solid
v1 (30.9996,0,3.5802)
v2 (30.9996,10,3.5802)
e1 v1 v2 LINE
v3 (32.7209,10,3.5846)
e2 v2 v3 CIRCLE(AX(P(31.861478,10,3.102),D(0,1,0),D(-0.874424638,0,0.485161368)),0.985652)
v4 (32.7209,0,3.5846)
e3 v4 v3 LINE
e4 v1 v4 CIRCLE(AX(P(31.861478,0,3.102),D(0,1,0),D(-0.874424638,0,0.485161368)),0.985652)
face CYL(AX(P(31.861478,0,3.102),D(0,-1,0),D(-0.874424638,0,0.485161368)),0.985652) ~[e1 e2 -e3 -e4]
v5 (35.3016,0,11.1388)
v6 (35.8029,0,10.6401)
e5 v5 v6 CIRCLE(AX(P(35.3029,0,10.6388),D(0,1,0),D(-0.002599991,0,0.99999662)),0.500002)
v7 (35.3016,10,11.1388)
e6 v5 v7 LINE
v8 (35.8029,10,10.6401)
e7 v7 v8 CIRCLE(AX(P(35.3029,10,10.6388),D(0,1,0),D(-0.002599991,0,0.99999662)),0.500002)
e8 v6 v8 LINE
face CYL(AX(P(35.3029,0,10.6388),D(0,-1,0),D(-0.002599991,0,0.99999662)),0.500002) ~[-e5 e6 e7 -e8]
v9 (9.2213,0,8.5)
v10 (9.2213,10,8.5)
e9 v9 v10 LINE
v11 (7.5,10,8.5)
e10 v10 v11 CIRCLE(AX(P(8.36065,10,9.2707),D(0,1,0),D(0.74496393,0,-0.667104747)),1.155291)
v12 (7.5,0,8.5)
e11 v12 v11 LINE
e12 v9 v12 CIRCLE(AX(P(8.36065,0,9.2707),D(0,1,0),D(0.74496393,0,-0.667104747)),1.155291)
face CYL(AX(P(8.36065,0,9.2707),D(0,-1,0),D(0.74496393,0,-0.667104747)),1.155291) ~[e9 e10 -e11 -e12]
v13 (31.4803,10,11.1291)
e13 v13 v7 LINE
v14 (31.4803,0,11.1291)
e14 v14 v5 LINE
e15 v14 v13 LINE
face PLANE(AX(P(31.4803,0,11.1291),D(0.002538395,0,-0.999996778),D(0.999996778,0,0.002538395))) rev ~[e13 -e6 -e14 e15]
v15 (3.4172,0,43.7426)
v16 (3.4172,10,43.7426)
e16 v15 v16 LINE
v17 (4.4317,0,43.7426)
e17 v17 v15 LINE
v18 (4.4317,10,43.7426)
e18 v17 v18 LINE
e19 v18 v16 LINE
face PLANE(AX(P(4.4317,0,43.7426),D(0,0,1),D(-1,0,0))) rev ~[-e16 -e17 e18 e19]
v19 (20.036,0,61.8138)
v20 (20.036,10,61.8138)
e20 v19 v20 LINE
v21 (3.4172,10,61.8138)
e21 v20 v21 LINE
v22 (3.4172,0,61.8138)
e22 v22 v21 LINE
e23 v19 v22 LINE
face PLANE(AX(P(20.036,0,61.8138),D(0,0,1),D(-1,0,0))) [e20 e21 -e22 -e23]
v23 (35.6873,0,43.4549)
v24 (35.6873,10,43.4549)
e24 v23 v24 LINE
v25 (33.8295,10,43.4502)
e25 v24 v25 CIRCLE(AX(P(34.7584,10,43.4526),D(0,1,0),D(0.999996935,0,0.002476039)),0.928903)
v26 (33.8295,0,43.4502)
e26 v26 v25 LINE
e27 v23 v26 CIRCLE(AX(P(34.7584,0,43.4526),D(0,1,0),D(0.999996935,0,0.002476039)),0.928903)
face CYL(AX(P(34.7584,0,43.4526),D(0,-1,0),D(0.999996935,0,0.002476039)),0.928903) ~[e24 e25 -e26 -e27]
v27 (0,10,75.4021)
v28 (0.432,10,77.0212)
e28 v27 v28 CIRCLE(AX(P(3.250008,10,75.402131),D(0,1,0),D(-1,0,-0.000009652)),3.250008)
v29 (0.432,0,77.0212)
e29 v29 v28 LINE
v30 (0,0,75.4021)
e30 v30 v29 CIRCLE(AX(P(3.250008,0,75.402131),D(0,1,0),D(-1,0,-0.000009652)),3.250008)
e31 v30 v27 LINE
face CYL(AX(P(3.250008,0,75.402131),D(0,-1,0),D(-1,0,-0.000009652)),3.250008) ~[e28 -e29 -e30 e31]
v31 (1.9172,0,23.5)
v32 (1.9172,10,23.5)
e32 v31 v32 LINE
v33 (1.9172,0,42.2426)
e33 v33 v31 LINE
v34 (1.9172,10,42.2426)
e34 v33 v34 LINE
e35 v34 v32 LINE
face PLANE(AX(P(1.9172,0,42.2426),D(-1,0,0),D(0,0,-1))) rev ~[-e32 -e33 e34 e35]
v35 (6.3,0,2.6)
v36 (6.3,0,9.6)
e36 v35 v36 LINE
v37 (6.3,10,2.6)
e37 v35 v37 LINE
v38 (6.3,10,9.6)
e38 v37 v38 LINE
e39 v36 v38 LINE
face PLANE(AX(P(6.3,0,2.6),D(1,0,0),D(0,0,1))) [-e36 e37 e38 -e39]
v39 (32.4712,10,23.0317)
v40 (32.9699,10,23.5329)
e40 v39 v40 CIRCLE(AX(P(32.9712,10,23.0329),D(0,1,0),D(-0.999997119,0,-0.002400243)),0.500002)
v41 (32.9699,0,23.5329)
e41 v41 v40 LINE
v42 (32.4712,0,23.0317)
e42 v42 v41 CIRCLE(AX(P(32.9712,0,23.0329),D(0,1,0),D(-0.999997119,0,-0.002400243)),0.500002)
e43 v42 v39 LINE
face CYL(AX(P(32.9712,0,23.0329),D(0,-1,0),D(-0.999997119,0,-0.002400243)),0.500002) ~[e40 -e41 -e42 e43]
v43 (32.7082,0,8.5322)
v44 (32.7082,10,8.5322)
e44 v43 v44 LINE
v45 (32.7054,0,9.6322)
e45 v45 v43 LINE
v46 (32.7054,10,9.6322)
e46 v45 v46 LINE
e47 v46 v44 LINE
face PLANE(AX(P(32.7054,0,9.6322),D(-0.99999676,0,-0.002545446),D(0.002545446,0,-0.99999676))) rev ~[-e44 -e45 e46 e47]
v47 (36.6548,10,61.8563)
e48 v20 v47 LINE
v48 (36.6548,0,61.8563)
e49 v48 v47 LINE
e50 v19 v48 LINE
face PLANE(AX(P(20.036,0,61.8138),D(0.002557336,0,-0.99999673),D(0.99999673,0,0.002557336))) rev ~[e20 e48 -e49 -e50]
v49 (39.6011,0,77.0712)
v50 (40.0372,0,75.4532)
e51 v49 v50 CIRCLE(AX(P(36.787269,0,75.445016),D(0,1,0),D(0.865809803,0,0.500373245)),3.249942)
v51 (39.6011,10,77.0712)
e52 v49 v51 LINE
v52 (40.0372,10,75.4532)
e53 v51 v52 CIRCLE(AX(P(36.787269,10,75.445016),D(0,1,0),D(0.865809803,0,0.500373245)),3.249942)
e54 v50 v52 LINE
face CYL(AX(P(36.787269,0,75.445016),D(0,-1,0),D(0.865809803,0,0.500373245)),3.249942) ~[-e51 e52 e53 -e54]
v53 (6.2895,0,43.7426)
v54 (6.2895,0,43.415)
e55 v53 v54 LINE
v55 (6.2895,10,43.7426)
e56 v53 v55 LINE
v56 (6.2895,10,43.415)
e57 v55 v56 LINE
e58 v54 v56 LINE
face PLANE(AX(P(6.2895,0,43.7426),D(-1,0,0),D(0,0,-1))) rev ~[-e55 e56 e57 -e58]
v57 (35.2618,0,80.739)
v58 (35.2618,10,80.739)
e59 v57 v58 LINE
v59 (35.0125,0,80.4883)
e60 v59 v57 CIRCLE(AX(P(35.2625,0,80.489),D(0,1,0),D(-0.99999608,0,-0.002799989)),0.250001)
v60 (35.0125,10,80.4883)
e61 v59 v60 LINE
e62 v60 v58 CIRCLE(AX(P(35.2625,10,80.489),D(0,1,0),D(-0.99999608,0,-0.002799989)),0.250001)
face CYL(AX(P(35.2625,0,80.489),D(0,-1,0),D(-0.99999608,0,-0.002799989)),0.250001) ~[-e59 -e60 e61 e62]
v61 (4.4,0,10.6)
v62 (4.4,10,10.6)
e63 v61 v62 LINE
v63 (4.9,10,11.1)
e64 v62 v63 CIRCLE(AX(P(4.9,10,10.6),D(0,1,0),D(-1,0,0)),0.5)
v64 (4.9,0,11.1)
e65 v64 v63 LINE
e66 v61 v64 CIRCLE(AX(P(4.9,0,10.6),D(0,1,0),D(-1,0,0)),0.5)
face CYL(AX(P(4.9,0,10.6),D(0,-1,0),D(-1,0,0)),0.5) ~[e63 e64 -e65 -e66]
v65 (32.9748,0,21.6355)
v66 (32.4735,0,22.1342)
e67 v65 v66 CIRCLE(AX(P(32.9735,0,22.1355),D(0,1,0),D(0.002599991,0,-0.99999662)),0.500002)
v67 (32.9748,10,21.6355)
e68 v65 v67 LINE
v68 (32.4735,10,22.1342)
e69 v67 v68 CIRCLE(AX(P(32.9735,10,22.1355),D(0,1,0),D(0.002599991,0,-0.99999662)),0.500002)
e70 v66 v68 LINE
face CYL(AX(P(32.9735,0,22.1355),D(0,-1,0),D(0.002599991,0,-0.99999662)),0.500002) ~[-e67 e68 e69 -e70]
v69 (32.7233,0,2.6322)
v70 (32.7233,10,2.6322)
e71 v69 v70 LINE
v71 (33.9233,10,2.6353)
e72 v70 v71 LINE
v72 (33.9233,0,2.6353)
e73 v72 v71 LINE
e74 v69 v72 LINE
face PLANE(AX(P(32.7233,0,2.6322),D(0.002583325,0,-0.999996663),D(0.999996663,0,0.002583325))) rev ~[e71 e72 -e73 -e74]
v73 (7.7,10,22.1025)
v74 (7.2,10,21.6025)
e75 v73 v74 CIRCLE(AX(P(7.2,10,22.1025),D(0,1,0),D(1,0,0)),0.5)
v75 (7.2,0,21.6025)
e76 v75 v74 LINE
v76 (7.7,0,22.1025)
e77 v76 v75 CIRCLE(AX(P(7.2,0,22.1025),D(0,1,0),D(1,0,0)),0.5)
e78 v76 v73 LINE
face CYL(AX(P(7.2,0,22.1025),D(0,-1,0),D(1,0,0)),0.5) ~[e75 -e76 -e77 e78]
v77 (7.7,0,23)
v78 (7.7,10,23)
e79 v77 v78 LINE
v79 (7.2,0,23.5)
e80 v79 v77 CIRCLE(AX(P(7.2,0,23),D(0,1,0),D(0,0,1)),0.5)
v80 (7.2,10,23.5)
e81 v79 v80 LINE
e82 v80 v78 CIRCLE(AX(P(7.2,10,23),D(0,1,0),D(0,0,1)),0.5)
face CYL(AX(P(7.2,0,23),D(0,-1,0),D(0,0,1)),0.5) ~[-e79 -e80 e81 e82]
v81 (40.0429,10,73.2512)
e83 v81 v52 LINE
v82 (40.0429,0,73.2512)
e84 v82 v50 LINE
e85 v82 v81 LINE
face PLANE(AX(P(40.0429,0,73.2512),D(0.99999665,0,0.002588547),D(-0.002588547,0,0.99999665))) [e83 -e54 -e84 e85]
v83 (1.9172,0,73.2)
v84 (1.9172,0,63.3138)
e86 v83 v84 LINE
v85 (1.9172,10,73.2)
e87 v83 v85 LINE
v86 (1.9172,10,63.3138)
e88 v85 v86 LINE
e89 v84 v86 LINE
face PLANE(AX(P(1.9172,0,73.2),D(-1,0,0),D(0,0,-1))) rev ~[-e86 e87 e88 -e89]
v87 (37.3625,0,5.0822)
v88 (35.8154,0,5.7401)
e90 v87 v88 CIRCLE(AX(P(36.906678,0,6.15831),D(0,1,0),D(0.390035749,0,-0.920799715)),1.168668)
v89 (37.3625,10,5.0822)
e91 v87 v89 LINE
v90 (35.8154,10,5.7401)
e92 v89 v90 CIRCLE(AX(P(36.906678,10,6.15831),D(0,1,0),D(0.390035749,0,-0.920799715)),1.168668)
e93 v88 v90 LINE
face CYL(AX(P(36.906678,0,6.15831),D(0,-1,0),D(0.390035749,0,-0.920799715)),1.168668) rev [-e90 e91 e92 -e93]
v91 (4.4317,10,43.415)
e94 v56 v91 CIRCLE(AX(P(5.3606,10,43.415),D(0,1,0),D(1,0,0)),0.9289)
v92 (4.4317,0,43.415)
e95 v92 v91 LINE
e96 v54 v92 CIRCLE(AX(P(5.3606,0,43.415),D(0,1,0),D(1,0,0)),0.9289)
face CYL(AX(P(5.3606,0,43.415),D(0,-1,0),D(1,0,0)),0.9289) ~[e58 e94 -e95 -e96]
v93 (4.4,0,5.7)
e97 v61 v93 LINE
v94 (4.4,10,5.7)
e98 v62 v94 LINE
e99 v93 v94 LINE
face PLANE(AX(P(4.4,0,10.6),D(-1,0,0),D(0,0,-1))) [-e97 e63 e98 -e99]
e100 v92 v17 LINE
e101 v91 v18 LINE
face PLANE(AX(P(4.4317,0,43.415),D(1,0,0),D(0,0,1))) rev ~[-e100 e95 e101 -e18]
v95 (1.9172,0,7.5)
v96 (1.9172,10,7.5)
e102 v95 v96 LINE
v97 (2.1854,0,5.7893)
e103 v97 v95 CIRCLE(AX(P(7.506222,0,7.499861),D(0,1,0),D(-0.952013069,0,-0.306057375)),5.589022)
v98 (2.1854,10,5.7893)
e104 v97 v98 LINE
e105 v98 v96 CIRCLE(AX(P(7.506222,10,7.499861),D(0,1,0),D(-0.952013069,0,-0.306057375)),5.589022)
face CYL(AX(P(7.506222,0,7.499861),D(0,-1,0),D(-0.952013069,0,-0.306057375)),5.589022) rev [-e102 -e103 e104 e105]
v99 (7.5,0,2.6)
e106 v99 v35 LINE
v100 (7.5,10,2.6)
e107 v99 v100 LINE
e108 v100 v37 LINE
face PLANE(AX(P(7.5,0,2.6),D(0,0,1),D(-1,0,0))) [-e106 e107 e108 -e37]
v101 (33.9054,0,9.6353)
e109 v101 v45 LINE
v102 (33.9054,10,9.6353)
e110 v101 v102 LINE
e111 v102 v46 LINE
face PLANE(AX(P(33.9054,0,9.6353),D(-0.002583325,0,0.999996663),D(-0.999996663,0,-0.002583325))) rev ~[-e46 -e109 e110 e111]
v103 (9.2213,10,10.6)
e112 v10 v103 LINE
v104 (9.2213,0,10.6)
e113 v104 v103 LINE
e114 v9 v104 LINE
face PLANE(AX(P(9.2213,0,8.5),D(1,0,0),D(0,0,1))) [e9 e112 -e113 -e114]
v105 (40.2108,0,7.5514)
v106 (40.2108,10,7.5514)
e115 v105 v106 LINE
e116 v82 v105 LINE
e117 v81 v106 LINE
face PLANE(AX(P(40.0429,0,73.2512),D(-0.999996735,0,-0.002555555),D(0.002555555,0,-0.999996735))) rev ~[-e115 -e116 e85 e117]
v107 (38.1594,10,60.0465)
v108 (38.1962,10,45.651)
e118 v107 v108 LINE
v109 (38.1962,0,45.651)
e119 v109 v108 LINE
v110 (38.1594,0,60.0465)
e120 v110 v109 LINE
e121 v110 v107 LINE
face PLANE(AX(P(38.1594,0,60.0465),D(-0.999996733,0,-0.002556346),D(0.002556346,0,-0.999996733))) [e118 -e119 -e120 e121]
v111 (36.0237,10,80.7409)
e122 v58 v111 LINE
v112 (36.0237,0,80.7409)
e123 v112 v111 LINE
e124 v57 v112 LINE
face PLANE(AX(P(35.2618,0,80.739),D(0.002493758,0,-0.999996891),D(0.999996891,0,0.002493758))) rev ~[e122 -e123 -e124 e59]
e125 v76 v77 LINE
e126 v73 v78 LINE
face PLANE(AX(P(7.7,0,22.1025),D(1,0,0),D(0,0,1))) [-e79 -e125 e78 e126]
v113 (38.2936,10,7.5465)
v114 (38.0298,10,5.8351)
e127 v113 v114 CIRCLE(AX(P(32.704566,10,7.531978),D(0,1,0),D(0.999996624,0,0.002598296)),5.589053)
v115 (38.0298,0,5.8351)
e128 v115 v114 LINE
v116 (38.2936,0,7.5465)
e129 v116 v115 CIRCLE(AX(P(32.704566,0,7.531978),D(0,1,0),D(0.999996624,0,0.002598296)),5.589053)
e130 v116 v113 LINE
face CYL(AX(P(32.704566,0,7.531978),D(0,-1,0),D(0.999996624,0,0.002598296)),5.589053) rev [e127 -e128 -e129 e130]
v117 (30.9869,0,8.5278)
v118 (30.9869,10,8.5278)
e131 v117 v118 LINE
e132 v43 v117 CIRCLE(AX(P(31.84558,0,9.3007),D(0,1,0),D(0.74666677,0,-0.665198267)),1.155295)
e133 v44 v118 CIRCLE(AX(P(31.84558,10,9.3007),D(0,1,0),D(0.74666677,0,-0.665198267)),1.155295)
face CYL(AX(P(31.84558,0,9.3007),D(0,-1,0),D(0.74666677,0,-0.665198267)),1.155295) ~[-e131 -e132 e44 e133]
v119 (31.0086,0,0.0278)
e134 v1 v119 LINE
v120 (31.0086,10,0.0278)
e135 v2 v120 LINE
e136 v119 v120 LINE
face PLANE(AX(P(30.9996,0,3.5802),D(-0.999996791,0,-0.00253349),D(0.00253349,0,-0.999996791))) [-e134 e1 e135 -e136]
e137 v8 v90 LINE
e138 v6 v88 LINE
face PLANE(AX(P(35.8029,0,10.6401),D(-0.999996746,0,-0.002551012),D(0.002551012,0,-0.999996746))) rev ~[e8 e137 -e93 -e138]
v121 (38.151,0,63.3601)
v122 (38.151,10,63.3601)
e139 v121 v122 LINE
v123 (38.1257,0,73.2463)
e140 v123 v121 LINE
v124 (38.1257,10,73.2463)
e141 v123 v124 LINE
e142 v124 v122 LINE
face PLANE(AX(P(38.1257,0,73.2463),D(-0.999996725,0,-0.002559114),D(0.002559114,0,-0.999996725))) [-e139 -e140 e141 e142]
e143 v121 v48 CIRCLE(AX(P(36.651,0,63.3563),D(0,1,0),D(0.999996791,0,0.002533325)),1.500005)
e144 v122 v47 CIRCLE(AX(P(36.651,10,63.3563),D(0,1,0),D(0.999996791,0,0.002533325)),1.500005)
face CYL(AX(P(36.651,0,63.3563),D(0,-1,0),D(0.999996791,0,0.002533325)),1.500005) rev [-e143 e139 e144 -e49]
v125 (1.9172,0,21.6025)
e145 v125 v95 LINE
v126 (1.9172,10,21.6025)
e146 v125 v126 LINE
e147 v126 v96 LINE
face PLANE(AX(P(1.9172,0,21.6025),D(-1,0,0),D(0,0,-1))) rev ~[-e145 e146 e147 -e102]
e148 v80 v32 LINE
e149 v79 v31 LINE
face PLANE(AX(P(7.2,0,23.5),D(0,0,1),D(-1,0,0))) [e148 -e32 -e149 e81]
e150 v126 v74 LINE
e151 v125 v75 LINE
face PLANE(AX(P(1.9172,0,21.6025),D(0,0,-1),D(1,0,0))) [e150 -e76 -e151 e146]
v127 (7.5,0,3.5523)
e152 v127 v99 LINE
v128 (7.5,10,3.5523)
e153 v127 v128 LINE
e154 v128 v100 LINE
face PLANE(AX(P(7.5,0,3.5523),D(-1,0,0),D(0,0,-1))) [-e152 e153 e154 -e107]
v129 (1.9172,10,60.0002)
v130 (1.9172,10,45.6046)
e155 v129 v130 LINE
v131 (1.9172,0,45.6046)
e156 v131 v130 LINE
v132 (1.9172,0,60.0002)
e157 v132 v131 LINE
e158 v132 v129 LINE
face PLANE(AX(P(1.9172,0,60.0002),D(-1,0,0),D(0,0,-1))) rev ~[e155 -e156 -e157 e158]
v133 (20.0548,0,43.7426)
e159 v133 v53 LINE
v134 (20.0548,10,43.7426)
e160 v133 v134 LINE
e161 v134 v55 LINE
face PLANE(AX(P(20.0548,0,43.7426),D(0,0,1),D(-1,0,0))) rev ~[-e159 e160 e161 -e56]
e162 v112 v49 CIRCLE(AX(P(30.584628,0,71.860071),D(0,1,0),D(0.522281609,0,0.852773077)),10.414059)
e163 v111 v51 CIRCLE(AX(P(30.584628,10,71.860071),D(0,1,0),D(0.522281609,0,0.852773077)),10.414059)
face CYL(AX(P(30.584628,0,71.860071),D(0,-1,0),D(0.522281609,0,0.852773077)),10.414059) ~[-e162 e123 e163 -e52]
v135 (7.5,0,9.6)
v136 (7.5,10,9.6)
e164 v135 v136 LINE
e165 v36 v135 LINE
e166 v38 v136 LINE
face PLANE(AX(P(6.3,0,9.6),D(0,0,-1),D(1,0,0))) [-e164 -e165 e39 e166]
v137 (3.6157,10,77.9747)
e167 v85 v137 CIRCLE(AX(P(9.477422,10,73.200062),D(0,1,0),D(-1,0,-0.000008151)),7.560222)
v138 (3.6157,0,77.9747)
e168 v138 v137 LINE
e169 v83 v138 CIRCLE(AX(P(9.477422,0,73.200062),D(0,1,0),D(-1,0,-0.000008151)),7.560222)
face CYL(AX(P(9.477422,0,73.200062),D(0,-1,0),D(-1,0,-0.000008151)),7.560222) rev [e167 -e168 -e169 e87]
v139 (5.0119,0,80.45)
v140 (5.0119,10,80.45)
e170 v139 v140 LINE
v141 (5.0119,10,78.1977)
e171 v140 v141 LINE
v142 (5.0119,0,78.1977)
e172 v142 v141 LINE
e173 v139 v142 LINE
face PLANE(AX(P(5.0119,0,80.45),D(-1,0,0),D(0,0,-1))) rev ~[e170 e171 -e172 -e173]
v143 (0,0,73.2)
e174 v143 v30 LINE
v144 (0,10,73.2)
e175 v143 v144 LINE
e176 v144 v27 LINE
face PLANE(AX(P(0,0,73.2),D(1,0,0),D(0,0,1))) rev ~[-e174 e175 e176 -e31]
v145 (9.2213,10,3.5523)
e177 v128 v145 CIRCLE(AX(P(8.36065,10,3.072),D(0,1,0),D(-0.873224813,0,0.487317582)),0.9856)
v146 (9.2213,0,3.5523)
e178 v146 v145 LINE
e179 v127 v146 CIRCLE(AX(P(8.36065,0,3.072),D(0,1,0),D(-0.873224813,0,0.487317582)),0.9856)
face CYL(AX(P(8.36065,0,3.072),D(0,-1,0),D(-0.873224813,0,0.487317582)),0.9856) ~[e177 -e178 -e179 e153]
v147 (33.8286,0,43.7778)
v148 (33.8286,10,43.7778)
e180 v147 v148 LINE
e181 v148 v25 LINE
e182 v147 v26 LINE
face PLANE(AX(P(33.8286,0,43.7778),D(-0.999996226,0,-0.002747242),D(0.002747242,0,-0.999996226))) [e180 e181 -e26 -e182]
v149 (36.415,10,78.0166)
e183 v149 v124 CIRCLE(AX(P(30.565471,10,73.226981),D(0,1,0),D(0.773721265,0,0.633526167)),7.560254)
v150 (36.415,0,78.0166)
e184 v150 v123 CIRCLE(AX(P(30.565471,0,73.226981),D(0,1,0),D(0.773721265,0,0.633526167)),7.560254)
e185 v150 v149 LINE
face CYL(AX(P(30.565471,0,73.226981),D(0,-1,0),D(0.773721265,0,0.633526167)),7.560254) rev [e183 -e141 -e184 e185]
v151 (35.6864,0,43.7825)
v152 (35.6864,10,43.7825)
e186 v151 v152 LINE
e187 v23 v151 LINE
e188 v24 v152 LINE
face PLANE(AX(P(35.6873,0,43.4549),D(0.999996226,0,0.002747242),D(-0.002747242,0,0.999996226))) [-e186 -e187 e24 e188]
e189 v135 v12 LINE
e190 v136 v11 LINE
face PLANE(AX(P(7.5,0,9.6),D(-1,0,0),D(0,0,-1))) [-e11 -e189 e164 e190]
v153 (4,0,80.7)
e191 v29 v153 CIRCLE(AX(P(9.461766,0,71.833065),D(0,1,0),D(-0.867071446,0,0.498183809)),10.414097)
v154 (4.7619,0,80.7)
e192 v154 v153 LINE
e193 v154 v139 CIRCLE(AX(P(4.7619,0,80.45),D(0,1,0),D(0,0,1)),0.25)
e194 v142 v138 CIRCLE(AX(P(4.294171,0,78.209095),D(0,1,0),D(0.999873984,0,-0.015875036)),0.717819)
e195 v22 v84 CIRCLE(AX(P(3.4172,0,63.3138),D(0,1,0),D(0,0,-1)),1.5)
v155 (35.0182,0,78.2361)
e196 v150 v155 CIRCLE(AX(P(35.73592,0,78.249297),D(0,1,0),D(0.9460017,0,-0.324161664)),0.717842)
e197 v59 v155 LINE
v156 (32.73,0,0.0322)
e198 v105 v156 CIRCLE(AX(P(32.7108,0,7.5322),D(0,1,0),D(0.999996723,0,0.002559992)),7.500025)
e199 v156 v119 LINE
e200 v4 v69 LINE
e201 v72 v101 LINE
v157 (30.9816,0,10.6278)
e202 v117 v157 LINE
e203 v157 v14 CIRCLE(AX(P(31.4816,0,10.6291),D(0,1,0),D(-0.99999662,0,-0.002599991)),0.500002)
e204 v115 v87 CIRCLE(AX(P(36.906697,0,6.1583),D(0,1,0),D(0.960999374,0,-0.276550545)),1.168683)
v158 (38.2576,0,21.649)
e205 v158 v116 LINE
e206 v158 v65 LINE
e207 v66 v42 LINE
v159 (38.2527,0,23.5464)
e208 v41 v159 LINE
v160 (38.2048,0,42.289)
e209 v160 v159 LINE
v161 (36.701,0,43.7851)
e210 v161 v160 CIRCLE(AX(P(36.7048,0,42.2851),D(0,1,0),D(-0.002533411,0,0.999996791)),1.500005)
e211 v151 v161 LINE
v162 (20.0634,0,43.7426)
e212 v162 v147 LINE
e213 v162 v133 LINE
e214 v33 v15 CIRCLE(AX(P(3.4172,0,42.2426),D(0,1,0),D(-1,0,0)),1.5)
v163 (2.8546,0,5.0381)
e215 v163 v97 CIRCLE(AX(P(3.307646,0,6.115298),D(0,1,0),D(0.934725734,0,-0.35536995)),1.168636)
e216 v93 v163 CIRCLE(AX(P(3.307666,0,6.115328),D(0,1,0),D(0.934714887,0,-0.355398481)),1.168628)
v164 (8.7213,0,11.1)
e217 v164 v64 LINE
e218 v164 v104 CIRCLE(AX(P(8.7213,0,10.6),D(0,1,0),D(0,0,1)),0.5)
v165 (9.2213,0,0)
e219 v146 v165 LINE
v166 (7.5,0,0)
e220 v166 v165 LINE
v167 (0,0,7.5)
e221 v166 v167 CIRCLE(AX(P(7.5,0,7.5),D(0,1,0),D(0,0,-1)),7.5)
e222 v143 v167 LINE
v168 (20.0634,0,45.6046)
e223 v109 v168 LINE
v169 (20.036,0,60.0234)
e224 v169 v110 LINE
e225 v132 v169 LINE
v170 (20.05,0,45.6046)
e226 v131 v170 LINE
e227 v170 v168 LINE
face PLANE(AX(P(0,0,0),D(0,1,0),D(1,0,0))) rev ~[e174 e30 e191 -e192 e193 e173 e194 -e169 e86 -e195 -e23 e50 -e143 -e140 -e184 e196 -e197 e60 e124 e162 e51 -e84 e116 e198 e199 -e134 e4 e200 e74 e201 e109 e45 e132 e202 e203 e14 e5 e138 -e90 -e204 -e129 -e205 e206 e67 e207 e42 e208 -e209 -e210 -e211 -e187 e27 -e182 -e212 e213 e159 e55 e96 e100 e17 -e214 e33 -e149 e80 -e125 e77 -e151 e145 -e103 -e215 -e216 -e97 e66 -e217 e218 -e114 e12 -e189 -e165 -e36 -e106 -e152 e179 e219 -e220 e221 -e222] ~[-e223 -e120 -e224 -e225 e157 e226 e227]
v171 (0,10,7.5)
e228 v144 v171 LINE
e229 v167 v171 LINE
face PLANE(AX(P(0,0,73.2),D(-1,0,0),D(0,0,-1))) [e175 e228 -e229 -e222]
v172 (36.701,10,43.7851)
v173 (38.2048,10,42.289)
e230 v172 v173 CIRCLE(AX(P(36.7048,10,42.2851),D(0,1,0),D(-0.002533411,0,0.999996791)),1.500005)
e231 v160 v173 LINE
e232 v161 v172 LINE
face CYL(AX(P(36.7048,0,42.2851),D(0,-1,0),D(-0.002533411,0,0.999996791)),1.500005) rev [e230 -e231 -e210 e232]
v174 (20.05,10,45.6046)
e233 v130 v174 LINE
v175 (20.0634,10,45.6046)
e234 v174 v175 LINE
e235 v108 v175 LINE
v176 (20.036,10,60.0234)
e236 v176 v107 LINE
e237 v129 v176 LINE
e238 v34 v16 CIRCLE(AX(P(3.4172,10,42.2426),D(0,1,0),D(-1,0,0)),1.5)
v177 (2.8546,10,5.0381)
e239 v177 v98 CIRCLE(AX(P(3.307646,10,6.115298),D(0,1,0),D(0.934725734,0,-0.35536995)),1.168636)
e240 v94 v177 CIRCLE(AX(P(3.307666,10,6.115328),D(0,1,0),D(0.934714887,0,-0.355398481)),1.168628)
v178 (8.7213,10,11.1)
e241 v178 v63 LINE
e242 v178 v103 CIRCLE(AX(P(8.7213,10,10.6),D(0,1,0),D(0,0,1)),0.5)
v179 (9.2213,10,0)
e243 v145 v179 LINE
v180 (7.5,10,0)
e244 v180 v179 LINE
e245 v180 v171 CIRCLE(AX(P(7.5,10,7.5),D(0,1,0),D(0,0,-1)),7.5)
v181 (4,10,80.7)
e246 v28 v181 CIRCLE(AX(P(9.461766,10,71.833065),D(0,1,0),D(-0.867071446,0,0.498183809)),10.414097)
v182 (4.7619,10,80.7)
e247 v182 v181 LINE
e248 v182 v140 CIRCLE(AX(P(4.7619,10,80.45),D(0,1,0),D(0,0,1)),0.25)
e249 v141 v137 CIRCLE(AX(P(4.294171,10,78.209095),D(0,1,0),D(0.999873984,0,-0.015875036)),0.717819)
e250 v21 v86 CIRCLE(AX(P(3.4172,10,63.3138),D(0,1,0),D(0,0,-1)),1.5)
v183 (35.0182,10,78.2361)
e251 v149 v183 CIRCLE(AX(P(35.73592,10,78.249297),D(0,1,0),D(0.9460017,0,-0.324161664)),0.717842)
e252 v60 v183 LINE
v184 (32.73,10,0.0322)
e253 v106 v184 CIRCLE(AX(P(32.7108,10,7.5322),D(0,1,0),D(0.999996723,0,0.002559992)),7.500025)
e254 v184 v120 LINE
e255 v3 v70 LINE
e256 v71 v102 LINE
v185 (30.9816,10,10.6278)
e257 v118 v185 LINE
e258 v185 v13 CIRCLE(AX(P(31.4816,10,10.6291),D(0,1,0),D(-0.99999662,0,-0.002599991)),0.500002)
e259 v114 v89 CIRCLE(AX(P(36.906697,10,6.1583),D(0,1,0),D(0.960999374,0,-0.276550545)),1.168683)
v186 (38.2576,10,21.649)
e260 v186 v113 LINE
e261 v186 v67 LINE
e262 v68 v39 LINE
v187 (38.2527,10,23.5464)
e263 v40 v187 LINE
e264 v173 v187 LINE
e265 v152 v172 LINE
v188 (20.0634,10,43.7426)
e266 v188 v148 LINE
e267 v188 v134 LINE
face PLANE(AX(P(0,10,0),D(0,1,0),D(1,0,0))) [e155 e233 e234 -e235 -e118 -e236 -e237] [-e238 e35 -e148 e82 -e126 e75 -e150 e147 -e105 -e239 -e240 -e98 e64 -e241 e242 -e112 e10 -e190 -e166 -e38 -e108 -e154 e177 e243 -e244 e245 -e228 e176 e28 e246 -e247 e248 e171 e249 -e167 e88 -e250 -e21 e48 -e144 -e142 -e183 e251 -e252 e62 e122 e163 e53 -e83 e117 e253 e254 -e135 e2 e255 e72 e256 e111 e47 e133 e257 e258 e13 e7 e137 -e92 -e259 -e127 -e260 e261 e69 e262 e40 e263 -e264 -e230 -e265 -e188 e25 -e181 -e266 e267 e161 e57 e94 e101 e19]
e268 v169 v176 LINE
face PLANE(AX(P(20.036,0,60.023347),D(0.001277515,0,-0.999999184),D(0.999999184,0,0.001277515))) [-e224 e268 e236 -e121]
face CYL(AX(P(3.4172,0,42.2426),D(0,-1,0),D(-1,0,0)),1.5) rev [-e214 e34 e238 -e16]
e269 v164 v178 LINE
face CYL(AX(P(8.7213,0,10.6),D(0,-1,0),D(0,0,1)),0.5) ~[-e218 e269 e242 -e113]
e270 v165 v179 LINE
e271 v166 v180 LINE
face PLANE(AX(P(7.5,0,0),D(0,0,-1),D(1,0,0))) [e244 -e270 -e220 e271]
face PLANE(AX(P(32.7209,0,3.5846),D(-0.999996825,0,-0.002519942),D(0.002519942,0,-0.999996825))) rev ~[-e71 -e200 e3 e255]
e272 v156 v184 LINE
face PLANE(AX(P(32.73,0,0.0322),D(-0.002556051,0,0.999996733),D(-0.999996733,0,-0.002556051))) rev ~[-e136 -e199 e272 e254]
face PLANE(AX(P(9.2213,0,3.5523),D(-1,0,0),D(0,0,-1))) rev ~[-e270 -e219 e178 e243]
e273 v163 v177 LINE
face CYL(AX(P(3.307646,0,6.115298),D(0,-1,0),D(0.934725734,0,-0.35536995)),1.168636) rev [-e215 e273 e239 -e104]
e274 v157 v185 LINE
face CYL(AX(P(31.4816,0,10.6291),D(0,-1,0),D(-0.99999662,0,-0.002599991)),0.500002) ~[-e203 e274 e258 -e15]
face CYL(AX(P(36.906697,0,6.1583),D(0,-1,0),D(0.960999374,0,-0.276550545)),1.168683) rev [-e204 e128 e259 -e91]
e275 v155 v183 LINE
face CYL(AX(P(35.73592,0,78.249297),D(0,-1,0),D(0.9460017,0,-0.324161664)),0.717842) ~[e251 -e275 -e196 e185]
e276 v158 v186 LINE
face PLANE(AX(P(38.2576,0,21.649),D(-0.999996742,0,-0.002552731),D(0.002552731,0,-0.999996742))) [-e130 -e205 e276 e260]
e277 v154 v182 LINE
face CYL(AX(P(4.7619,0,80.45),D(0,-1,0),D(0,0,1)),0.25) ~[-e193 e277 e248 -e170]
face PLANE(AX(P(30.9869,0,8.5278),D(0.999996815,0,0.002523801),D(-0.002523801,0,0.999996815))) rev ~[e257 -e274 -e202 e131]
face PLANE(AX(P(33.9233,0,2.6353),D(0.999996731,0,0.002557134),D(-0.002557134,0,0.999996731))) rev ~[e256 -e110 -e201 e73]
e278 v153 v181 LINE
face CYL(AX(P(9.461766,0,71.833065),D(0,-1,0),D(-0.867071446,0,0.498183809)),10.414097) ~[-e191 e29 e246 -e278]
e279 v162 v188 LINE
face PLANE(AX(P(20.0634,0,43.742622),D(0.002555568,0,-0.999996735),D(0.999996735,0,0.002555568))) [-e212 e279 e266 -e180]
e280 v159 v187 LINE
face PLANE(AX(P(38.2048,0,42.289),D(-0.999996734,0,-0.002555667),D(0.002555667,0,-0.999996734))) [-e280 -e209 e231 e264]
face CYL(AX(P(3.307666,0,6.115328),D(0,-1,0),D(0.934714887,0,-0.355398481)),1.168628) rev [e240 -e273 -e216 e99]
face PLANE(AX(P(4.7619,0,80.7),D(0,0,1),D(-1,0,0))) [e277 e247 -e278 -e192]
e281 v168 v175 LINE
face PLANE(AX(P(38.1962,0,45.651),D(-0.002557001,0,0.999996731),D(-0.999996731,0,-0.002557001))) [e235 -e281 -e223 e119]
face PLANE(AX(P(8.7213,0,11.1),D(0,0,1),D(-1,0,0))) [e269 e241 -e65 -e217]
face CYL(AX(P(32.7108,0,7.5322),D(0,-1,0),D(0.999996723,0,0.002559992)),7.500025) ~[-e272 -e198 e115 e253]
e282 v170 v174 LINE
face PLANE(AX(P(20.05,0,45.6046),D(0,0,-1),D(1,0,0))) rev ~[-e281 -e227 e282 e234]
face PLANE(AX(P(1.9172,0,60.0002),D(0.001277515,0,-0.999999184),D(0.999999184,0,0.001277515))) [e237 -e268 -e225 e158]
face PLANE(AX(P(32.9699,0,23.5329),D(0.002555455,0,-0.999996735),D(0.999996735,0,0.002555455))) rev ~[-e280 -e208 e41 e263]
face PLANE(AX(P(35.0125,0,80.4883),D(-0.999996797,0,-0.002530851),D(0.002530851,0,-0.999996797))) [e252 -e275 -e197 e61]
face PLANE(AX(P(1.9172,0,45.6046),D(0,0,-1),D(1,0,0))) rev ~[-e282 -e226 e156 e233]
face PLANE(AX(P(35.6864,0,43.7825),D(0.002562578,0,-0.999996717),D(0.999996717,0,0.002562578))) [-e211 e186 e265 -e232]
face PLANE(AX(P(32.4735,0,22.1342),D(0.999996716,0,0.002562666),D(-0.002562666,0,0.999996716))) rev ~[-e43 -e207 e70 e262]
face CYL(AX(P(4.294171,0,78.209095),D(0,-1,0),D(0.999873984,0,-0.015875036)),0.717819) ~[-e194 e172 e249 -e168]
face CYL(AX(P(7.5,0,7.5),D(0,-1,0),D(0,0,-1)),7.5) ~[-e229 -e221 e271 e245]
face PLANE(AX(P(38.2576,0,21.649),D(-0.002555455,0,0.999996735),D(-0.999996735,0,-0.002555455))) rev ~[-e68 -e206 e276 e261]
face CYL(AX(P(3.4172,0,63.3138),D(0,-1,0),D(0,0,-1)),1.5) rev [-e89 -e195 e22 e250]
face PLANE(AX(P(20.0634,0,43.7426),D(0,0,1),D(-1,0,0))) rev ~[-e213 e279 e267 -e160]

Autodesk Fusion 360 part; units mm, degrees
sketch "Boceto2" plane through (0, 0, 0) normal (0, 1, 0) x (1, 0, 0)
  line L0 (7.5, 0) -> (9.2213, 0)
  line L1 (0, -73.2) -> (0, -7.5)
  arc A0 (7.5, 0) -> (0, -7.5) centre (7.5, -7.5) ccw
  line L2 (7.5, -3.5523) -> (7.5, -2.6)
  line L3 (7.5, -2.6) -> (6.3, -2.6)
  line L4 (6.3, -2.6) -> (6.3, -9.6)
  line L5 (6.3, -9.6) -> (7.5, -9.6)
  line L6 (7.5, -9.6) -> (7.5, -8.5)
  line L7 (9.2213, -8.5) -> (9.2213, -10.6)
  line L8 (8.7213, -11.1) -> (4.9, -11.1)
  line L9 (4.4, -10.6) -> (4.4, -5.7)
  arc A1 (4.4, -5.7) -> (2.8546, -5.0381) centre (3.3076, -6.1153) ccw
  arc A2 (4.4, -5.7) -> (2.1854, -5.7893) centre (3.3076, -6.1153) ccw
  arc A3 (2.1854, -5.7893) -> (1.9172, -7.5) centre (7.5062, -7.5) ccw
  arc A4 (9.2213, -8.5) -> (7.5, -8.5) centre (8.3607, -9.2707) ccw
  arc A5 (7.5, -3.5523) -> (9.2213, -3.5523) centre (8.3607, -3.072) ccw
  line L10 (9.2213, -3.5523) -> (9.2213, 0)
  line L11 (20.1126, -1.9172) -> (20.115, -1.9172)
  line L12 (1.9172, -21.6025) -> (7.2, -21.6025)
  line L13 (7.7, -22.1025) -> (7.7, -23)
  line L14 (7.2, -23.5) -> (1.9172, -23.5)
  line L15 (1.9172, -45.6046) -> (20.0634, -45.6046)
  line L16 (20.0634, -43.7426) -> (20.0634, -43.7426)
  line L17 (20.036, -60.0002) -> (20.036, -60.0234)
  line L18 (20.036, -61.8138) -> (3.4172, -61.8138)
  line L19 (1.9172, -21.6025) -> (1.9172, -7.5)
  arc A6 (7.2, -23.5) -> (7.7, -23) centre (7.2, -23) ccw
  arc A7 (7.7, -22.1025) -> (7.2, -21.6025) centre (7.2, -22.1025) ccw
  line L20 (1.9172, -42.2426) -> (1.9172, -23.5)
  arc A8 (1.9172, -42.2426) -> (3.4172, -43.7426) centre (3.4172, -42.2426) ccw
  line L21 (6.2895, -43.7426) -> (6.2895, -43.415)
  line L22 (4.4317, -43.415) -> (4.4317, -43.7426)
  arc A9 (6.2895, -43.415) -> (4.4317, -43.415) centre (5.3606, -43.415) ccw
  line L23 (20.0634, -43.7426) -> (6.2895, -43.7426)
  line L24 (4.4317, -43.7426) -> (3.4172, -43.7426)
  line L25 (1.9172, -73.2) -> (1.9172, -63.3138)
  line L26 (1.9172, -60.0002) -> (1.9172, -45.6046)
  arc A10 (3.4172, -61.8138) -> (1.9172, -63.3138) centre (3.4172, -63.3138) ccw
  arc A11 (4.4, -10.6) -> (4.9, -11.1) centre (4.9, -10.6) ccw
  arc A12 (8.7213, -11.1) -> (9.2213, -10.6) centre (8.7213, -10.6) ccw
  line L27 (32.4735, -22.1342) -> (32.4712, -23.0317)
  line L28 (35.8029, -10.6401) -> (35.8154, -5.7401)
  arc A13 (36.701, -43.7851) -> (38.2048, -42.289) centre (36.7048, -42.2851) ccw
  line L29 (38.1594, -60.0465) -> (38.1962, -45.651)
  line L30 (33.8286, -43.7778) -> (33.8295, -43.4502)
  arc A14 (35.6873, -43.4549) -> (33.8295, -43.4502) centre (34.7584, -43.4526) ccw
  line L31 (32.7209, -3.5846) -> (32.7233, -2.6322)
  line L32 (35.6864, -43.7825) -> (36.701, -43.7851)
  line L33 (32.9699, -23.5329) -> (38.2527, -23.5464)
  line L34 (40.0429, -73.2512) -> (40.2108, -7.5514)
  line L35 (38.2048, -42.289) -> (38.2527, -23.5464)
  arc A15 (32.4712, -23.0317) -> (32.9699, -23.5329) centre (32.9712, -23.0329) ccw
  line L36 (35.6873, -43.4549) -> (35.6864, -43.7825)
  arc A16 (37.3625, -5.0822) -> (35.8154, -5.7401) centre (36.9067, -6.1583) ccw
  line L37 (30.9869, -8.5278) -> (30.9816, -10.6278)
  arc A17 (38.2936, -7.5465) -> (38.0298, -5.8351) centre (32.7046, -7.5322) ccw
  line L38 (32.73, -0.0322) -> (31.0086, -0.0278)
  arc A18 (40.2108, -7.5514) -> (32.73, -0.0322) centre (32.7108, -7.5322) ccw
  arc A19 (35.3016, -11.1388) -> (35.8029, -10.6401) centre (35.3029, -10.6388) ccw
  arc A20 (32.9748, -21.6355) -> (32.4735, -22.1342) centre (32.9735, -22.1355) ccw
  line L39 (32.7054, -9.6322) -> (32.7082, -8.5322)
  arc A21 (30.9816, -10.6278) -> (31.4803, -11.1291) centre (31.4816, -10.6291) ccw
  line L40 (33.9233, -2.6353) -> (33.9054, -9.6353)
  arc A22 (38.0298, -5.8351) -> (35.8154, -5.7401) centre (36.9067, -6.1583) ccw
  arc A23 (38.151, -63.3601) -> (36.6548, -61.8563) centre (36.651, -63.3563) ccw
  arc A24 (30.9996, -3.5802) -> (32.7209, -3.5846) centre (31.8615, -3.102) ccw
  line L41 (30.9996, -3.5802) -> (31.0086, -0.0278)
  line L42 (38.1257, -73.2463) -> (38.151, -63.3601)
  line L43 (38.2576, -21.649) -> (38.2936, -7.5465)
  line L44 (31.4803, -11.1291) -> (35.3016, -11.1388)
  line L45 (32.7233, -2.6322) -> (33.9233, -2.6353)
  line L46 (33.9054, -9.6353) -> (32.7054, -9.6322)
  arc A25 (32.7082, -8.5322) -> (30.9869, -8.5278) centre (31.8456, -9.3007) ccw
  line L47 (38.2576, -21.649) -> (32.9748, -21.6355)
  line L48 (20.0548, -43.7426) -> (33.8286, -43.7778)
  line L49 (38.1962, -45.651) -> (20.05, -45.6046)
  line L50 (20.036, -61.8138) -> (36.6548, -61.8563)
  line L51 (1.9172, -60.0002) -> (38.1594, -60.0465)
  line L52 (20.036, -61.8138) -> (20.0119, -80.7) construction
  line L53 (20.115, 0) -> (20.0591, -43.7426) construction
  line L54 (20.0567, -45.6046) -> (20.0383, -60.0234) construction
  line L55 (20.0119, -80.7) -> (5.0119, -80.7) construction
  line L56 (5.0119, -80.45) -> (5.0119, -78.1977)
  arc A26 (5.0119, -78.1977) -> (3.6157, -77.9747) centre (4.2942, -78.2091) ccw
  arc A27 (1.9172, -73.2) -> (3.6157, -77.9747) centre (9.4774, -73.2) ccw
  line L57 (4.7619, -80.7) -> (4, -80.7)
  line L58 (0, -73.2) -> (0, -75.4021)
  arc A28 (0.432, -77.0212) -> (4, -80.7) centre (9.4618, -71.8331) ccw
  arc A29 (4.7619, -80.7) -> (5.0119, -80.45) centre (4.7619, -80.45) ccw
  arc A30 (0, -75.4021) -> (0.432, -77.0212) centre (3.25, -75.4021) ccw
  arc A31 (36.415, -78.0166) -> (38.1257, -73.2463) centre (30.5655, -73.2269) ccw
  line L59 (40.0429, -73.2512) -> (40.0372, -75.4532)
  arc A32 (39.6011, -77.0712) -> (40.0372, -75.4532) centre (36.7873, -75.4449) ccw
  arc A33 (36.415, -78.0166) -> (35.0182, -78.2361) centre (35.7359, -78.2493) ccw
  line L60 (35.0125, -80.4883) -> (35.0182, -78.2361)
  arc A34 (35.0125, -80.4883) -> (35.2618, -80.739) centre (35.2625, -80.489) ccw
  arc A35 (36.0237, -80.7409) -> (39.6011, -77.0712) centre (30.5846, -71.8601) ccw
  line L61 (35.2618, -80.739) -> (36.0237, -80.7409)
  point P0 (0, -80.7)
  point P1 (40.2299, -0.0514)
  point P2 (40.2299, -0.0514)
  point P3 (35.0118, -80.7383)
  dimension "d10" = 80.7
  dimension "d14" = 0.5
  dimension "d15" = 1.5
  dimension "d16" = 1.5
  dimension "d17" = 0.5
  dimension "d19" = 15
  dimension "d20" = 0.25
  dimension "d21" = 3.25
extrude "Extruir1" add sketch "Boceto2" along normal blind 10
equation "L = 10 mm"
equation "d23 = L"
